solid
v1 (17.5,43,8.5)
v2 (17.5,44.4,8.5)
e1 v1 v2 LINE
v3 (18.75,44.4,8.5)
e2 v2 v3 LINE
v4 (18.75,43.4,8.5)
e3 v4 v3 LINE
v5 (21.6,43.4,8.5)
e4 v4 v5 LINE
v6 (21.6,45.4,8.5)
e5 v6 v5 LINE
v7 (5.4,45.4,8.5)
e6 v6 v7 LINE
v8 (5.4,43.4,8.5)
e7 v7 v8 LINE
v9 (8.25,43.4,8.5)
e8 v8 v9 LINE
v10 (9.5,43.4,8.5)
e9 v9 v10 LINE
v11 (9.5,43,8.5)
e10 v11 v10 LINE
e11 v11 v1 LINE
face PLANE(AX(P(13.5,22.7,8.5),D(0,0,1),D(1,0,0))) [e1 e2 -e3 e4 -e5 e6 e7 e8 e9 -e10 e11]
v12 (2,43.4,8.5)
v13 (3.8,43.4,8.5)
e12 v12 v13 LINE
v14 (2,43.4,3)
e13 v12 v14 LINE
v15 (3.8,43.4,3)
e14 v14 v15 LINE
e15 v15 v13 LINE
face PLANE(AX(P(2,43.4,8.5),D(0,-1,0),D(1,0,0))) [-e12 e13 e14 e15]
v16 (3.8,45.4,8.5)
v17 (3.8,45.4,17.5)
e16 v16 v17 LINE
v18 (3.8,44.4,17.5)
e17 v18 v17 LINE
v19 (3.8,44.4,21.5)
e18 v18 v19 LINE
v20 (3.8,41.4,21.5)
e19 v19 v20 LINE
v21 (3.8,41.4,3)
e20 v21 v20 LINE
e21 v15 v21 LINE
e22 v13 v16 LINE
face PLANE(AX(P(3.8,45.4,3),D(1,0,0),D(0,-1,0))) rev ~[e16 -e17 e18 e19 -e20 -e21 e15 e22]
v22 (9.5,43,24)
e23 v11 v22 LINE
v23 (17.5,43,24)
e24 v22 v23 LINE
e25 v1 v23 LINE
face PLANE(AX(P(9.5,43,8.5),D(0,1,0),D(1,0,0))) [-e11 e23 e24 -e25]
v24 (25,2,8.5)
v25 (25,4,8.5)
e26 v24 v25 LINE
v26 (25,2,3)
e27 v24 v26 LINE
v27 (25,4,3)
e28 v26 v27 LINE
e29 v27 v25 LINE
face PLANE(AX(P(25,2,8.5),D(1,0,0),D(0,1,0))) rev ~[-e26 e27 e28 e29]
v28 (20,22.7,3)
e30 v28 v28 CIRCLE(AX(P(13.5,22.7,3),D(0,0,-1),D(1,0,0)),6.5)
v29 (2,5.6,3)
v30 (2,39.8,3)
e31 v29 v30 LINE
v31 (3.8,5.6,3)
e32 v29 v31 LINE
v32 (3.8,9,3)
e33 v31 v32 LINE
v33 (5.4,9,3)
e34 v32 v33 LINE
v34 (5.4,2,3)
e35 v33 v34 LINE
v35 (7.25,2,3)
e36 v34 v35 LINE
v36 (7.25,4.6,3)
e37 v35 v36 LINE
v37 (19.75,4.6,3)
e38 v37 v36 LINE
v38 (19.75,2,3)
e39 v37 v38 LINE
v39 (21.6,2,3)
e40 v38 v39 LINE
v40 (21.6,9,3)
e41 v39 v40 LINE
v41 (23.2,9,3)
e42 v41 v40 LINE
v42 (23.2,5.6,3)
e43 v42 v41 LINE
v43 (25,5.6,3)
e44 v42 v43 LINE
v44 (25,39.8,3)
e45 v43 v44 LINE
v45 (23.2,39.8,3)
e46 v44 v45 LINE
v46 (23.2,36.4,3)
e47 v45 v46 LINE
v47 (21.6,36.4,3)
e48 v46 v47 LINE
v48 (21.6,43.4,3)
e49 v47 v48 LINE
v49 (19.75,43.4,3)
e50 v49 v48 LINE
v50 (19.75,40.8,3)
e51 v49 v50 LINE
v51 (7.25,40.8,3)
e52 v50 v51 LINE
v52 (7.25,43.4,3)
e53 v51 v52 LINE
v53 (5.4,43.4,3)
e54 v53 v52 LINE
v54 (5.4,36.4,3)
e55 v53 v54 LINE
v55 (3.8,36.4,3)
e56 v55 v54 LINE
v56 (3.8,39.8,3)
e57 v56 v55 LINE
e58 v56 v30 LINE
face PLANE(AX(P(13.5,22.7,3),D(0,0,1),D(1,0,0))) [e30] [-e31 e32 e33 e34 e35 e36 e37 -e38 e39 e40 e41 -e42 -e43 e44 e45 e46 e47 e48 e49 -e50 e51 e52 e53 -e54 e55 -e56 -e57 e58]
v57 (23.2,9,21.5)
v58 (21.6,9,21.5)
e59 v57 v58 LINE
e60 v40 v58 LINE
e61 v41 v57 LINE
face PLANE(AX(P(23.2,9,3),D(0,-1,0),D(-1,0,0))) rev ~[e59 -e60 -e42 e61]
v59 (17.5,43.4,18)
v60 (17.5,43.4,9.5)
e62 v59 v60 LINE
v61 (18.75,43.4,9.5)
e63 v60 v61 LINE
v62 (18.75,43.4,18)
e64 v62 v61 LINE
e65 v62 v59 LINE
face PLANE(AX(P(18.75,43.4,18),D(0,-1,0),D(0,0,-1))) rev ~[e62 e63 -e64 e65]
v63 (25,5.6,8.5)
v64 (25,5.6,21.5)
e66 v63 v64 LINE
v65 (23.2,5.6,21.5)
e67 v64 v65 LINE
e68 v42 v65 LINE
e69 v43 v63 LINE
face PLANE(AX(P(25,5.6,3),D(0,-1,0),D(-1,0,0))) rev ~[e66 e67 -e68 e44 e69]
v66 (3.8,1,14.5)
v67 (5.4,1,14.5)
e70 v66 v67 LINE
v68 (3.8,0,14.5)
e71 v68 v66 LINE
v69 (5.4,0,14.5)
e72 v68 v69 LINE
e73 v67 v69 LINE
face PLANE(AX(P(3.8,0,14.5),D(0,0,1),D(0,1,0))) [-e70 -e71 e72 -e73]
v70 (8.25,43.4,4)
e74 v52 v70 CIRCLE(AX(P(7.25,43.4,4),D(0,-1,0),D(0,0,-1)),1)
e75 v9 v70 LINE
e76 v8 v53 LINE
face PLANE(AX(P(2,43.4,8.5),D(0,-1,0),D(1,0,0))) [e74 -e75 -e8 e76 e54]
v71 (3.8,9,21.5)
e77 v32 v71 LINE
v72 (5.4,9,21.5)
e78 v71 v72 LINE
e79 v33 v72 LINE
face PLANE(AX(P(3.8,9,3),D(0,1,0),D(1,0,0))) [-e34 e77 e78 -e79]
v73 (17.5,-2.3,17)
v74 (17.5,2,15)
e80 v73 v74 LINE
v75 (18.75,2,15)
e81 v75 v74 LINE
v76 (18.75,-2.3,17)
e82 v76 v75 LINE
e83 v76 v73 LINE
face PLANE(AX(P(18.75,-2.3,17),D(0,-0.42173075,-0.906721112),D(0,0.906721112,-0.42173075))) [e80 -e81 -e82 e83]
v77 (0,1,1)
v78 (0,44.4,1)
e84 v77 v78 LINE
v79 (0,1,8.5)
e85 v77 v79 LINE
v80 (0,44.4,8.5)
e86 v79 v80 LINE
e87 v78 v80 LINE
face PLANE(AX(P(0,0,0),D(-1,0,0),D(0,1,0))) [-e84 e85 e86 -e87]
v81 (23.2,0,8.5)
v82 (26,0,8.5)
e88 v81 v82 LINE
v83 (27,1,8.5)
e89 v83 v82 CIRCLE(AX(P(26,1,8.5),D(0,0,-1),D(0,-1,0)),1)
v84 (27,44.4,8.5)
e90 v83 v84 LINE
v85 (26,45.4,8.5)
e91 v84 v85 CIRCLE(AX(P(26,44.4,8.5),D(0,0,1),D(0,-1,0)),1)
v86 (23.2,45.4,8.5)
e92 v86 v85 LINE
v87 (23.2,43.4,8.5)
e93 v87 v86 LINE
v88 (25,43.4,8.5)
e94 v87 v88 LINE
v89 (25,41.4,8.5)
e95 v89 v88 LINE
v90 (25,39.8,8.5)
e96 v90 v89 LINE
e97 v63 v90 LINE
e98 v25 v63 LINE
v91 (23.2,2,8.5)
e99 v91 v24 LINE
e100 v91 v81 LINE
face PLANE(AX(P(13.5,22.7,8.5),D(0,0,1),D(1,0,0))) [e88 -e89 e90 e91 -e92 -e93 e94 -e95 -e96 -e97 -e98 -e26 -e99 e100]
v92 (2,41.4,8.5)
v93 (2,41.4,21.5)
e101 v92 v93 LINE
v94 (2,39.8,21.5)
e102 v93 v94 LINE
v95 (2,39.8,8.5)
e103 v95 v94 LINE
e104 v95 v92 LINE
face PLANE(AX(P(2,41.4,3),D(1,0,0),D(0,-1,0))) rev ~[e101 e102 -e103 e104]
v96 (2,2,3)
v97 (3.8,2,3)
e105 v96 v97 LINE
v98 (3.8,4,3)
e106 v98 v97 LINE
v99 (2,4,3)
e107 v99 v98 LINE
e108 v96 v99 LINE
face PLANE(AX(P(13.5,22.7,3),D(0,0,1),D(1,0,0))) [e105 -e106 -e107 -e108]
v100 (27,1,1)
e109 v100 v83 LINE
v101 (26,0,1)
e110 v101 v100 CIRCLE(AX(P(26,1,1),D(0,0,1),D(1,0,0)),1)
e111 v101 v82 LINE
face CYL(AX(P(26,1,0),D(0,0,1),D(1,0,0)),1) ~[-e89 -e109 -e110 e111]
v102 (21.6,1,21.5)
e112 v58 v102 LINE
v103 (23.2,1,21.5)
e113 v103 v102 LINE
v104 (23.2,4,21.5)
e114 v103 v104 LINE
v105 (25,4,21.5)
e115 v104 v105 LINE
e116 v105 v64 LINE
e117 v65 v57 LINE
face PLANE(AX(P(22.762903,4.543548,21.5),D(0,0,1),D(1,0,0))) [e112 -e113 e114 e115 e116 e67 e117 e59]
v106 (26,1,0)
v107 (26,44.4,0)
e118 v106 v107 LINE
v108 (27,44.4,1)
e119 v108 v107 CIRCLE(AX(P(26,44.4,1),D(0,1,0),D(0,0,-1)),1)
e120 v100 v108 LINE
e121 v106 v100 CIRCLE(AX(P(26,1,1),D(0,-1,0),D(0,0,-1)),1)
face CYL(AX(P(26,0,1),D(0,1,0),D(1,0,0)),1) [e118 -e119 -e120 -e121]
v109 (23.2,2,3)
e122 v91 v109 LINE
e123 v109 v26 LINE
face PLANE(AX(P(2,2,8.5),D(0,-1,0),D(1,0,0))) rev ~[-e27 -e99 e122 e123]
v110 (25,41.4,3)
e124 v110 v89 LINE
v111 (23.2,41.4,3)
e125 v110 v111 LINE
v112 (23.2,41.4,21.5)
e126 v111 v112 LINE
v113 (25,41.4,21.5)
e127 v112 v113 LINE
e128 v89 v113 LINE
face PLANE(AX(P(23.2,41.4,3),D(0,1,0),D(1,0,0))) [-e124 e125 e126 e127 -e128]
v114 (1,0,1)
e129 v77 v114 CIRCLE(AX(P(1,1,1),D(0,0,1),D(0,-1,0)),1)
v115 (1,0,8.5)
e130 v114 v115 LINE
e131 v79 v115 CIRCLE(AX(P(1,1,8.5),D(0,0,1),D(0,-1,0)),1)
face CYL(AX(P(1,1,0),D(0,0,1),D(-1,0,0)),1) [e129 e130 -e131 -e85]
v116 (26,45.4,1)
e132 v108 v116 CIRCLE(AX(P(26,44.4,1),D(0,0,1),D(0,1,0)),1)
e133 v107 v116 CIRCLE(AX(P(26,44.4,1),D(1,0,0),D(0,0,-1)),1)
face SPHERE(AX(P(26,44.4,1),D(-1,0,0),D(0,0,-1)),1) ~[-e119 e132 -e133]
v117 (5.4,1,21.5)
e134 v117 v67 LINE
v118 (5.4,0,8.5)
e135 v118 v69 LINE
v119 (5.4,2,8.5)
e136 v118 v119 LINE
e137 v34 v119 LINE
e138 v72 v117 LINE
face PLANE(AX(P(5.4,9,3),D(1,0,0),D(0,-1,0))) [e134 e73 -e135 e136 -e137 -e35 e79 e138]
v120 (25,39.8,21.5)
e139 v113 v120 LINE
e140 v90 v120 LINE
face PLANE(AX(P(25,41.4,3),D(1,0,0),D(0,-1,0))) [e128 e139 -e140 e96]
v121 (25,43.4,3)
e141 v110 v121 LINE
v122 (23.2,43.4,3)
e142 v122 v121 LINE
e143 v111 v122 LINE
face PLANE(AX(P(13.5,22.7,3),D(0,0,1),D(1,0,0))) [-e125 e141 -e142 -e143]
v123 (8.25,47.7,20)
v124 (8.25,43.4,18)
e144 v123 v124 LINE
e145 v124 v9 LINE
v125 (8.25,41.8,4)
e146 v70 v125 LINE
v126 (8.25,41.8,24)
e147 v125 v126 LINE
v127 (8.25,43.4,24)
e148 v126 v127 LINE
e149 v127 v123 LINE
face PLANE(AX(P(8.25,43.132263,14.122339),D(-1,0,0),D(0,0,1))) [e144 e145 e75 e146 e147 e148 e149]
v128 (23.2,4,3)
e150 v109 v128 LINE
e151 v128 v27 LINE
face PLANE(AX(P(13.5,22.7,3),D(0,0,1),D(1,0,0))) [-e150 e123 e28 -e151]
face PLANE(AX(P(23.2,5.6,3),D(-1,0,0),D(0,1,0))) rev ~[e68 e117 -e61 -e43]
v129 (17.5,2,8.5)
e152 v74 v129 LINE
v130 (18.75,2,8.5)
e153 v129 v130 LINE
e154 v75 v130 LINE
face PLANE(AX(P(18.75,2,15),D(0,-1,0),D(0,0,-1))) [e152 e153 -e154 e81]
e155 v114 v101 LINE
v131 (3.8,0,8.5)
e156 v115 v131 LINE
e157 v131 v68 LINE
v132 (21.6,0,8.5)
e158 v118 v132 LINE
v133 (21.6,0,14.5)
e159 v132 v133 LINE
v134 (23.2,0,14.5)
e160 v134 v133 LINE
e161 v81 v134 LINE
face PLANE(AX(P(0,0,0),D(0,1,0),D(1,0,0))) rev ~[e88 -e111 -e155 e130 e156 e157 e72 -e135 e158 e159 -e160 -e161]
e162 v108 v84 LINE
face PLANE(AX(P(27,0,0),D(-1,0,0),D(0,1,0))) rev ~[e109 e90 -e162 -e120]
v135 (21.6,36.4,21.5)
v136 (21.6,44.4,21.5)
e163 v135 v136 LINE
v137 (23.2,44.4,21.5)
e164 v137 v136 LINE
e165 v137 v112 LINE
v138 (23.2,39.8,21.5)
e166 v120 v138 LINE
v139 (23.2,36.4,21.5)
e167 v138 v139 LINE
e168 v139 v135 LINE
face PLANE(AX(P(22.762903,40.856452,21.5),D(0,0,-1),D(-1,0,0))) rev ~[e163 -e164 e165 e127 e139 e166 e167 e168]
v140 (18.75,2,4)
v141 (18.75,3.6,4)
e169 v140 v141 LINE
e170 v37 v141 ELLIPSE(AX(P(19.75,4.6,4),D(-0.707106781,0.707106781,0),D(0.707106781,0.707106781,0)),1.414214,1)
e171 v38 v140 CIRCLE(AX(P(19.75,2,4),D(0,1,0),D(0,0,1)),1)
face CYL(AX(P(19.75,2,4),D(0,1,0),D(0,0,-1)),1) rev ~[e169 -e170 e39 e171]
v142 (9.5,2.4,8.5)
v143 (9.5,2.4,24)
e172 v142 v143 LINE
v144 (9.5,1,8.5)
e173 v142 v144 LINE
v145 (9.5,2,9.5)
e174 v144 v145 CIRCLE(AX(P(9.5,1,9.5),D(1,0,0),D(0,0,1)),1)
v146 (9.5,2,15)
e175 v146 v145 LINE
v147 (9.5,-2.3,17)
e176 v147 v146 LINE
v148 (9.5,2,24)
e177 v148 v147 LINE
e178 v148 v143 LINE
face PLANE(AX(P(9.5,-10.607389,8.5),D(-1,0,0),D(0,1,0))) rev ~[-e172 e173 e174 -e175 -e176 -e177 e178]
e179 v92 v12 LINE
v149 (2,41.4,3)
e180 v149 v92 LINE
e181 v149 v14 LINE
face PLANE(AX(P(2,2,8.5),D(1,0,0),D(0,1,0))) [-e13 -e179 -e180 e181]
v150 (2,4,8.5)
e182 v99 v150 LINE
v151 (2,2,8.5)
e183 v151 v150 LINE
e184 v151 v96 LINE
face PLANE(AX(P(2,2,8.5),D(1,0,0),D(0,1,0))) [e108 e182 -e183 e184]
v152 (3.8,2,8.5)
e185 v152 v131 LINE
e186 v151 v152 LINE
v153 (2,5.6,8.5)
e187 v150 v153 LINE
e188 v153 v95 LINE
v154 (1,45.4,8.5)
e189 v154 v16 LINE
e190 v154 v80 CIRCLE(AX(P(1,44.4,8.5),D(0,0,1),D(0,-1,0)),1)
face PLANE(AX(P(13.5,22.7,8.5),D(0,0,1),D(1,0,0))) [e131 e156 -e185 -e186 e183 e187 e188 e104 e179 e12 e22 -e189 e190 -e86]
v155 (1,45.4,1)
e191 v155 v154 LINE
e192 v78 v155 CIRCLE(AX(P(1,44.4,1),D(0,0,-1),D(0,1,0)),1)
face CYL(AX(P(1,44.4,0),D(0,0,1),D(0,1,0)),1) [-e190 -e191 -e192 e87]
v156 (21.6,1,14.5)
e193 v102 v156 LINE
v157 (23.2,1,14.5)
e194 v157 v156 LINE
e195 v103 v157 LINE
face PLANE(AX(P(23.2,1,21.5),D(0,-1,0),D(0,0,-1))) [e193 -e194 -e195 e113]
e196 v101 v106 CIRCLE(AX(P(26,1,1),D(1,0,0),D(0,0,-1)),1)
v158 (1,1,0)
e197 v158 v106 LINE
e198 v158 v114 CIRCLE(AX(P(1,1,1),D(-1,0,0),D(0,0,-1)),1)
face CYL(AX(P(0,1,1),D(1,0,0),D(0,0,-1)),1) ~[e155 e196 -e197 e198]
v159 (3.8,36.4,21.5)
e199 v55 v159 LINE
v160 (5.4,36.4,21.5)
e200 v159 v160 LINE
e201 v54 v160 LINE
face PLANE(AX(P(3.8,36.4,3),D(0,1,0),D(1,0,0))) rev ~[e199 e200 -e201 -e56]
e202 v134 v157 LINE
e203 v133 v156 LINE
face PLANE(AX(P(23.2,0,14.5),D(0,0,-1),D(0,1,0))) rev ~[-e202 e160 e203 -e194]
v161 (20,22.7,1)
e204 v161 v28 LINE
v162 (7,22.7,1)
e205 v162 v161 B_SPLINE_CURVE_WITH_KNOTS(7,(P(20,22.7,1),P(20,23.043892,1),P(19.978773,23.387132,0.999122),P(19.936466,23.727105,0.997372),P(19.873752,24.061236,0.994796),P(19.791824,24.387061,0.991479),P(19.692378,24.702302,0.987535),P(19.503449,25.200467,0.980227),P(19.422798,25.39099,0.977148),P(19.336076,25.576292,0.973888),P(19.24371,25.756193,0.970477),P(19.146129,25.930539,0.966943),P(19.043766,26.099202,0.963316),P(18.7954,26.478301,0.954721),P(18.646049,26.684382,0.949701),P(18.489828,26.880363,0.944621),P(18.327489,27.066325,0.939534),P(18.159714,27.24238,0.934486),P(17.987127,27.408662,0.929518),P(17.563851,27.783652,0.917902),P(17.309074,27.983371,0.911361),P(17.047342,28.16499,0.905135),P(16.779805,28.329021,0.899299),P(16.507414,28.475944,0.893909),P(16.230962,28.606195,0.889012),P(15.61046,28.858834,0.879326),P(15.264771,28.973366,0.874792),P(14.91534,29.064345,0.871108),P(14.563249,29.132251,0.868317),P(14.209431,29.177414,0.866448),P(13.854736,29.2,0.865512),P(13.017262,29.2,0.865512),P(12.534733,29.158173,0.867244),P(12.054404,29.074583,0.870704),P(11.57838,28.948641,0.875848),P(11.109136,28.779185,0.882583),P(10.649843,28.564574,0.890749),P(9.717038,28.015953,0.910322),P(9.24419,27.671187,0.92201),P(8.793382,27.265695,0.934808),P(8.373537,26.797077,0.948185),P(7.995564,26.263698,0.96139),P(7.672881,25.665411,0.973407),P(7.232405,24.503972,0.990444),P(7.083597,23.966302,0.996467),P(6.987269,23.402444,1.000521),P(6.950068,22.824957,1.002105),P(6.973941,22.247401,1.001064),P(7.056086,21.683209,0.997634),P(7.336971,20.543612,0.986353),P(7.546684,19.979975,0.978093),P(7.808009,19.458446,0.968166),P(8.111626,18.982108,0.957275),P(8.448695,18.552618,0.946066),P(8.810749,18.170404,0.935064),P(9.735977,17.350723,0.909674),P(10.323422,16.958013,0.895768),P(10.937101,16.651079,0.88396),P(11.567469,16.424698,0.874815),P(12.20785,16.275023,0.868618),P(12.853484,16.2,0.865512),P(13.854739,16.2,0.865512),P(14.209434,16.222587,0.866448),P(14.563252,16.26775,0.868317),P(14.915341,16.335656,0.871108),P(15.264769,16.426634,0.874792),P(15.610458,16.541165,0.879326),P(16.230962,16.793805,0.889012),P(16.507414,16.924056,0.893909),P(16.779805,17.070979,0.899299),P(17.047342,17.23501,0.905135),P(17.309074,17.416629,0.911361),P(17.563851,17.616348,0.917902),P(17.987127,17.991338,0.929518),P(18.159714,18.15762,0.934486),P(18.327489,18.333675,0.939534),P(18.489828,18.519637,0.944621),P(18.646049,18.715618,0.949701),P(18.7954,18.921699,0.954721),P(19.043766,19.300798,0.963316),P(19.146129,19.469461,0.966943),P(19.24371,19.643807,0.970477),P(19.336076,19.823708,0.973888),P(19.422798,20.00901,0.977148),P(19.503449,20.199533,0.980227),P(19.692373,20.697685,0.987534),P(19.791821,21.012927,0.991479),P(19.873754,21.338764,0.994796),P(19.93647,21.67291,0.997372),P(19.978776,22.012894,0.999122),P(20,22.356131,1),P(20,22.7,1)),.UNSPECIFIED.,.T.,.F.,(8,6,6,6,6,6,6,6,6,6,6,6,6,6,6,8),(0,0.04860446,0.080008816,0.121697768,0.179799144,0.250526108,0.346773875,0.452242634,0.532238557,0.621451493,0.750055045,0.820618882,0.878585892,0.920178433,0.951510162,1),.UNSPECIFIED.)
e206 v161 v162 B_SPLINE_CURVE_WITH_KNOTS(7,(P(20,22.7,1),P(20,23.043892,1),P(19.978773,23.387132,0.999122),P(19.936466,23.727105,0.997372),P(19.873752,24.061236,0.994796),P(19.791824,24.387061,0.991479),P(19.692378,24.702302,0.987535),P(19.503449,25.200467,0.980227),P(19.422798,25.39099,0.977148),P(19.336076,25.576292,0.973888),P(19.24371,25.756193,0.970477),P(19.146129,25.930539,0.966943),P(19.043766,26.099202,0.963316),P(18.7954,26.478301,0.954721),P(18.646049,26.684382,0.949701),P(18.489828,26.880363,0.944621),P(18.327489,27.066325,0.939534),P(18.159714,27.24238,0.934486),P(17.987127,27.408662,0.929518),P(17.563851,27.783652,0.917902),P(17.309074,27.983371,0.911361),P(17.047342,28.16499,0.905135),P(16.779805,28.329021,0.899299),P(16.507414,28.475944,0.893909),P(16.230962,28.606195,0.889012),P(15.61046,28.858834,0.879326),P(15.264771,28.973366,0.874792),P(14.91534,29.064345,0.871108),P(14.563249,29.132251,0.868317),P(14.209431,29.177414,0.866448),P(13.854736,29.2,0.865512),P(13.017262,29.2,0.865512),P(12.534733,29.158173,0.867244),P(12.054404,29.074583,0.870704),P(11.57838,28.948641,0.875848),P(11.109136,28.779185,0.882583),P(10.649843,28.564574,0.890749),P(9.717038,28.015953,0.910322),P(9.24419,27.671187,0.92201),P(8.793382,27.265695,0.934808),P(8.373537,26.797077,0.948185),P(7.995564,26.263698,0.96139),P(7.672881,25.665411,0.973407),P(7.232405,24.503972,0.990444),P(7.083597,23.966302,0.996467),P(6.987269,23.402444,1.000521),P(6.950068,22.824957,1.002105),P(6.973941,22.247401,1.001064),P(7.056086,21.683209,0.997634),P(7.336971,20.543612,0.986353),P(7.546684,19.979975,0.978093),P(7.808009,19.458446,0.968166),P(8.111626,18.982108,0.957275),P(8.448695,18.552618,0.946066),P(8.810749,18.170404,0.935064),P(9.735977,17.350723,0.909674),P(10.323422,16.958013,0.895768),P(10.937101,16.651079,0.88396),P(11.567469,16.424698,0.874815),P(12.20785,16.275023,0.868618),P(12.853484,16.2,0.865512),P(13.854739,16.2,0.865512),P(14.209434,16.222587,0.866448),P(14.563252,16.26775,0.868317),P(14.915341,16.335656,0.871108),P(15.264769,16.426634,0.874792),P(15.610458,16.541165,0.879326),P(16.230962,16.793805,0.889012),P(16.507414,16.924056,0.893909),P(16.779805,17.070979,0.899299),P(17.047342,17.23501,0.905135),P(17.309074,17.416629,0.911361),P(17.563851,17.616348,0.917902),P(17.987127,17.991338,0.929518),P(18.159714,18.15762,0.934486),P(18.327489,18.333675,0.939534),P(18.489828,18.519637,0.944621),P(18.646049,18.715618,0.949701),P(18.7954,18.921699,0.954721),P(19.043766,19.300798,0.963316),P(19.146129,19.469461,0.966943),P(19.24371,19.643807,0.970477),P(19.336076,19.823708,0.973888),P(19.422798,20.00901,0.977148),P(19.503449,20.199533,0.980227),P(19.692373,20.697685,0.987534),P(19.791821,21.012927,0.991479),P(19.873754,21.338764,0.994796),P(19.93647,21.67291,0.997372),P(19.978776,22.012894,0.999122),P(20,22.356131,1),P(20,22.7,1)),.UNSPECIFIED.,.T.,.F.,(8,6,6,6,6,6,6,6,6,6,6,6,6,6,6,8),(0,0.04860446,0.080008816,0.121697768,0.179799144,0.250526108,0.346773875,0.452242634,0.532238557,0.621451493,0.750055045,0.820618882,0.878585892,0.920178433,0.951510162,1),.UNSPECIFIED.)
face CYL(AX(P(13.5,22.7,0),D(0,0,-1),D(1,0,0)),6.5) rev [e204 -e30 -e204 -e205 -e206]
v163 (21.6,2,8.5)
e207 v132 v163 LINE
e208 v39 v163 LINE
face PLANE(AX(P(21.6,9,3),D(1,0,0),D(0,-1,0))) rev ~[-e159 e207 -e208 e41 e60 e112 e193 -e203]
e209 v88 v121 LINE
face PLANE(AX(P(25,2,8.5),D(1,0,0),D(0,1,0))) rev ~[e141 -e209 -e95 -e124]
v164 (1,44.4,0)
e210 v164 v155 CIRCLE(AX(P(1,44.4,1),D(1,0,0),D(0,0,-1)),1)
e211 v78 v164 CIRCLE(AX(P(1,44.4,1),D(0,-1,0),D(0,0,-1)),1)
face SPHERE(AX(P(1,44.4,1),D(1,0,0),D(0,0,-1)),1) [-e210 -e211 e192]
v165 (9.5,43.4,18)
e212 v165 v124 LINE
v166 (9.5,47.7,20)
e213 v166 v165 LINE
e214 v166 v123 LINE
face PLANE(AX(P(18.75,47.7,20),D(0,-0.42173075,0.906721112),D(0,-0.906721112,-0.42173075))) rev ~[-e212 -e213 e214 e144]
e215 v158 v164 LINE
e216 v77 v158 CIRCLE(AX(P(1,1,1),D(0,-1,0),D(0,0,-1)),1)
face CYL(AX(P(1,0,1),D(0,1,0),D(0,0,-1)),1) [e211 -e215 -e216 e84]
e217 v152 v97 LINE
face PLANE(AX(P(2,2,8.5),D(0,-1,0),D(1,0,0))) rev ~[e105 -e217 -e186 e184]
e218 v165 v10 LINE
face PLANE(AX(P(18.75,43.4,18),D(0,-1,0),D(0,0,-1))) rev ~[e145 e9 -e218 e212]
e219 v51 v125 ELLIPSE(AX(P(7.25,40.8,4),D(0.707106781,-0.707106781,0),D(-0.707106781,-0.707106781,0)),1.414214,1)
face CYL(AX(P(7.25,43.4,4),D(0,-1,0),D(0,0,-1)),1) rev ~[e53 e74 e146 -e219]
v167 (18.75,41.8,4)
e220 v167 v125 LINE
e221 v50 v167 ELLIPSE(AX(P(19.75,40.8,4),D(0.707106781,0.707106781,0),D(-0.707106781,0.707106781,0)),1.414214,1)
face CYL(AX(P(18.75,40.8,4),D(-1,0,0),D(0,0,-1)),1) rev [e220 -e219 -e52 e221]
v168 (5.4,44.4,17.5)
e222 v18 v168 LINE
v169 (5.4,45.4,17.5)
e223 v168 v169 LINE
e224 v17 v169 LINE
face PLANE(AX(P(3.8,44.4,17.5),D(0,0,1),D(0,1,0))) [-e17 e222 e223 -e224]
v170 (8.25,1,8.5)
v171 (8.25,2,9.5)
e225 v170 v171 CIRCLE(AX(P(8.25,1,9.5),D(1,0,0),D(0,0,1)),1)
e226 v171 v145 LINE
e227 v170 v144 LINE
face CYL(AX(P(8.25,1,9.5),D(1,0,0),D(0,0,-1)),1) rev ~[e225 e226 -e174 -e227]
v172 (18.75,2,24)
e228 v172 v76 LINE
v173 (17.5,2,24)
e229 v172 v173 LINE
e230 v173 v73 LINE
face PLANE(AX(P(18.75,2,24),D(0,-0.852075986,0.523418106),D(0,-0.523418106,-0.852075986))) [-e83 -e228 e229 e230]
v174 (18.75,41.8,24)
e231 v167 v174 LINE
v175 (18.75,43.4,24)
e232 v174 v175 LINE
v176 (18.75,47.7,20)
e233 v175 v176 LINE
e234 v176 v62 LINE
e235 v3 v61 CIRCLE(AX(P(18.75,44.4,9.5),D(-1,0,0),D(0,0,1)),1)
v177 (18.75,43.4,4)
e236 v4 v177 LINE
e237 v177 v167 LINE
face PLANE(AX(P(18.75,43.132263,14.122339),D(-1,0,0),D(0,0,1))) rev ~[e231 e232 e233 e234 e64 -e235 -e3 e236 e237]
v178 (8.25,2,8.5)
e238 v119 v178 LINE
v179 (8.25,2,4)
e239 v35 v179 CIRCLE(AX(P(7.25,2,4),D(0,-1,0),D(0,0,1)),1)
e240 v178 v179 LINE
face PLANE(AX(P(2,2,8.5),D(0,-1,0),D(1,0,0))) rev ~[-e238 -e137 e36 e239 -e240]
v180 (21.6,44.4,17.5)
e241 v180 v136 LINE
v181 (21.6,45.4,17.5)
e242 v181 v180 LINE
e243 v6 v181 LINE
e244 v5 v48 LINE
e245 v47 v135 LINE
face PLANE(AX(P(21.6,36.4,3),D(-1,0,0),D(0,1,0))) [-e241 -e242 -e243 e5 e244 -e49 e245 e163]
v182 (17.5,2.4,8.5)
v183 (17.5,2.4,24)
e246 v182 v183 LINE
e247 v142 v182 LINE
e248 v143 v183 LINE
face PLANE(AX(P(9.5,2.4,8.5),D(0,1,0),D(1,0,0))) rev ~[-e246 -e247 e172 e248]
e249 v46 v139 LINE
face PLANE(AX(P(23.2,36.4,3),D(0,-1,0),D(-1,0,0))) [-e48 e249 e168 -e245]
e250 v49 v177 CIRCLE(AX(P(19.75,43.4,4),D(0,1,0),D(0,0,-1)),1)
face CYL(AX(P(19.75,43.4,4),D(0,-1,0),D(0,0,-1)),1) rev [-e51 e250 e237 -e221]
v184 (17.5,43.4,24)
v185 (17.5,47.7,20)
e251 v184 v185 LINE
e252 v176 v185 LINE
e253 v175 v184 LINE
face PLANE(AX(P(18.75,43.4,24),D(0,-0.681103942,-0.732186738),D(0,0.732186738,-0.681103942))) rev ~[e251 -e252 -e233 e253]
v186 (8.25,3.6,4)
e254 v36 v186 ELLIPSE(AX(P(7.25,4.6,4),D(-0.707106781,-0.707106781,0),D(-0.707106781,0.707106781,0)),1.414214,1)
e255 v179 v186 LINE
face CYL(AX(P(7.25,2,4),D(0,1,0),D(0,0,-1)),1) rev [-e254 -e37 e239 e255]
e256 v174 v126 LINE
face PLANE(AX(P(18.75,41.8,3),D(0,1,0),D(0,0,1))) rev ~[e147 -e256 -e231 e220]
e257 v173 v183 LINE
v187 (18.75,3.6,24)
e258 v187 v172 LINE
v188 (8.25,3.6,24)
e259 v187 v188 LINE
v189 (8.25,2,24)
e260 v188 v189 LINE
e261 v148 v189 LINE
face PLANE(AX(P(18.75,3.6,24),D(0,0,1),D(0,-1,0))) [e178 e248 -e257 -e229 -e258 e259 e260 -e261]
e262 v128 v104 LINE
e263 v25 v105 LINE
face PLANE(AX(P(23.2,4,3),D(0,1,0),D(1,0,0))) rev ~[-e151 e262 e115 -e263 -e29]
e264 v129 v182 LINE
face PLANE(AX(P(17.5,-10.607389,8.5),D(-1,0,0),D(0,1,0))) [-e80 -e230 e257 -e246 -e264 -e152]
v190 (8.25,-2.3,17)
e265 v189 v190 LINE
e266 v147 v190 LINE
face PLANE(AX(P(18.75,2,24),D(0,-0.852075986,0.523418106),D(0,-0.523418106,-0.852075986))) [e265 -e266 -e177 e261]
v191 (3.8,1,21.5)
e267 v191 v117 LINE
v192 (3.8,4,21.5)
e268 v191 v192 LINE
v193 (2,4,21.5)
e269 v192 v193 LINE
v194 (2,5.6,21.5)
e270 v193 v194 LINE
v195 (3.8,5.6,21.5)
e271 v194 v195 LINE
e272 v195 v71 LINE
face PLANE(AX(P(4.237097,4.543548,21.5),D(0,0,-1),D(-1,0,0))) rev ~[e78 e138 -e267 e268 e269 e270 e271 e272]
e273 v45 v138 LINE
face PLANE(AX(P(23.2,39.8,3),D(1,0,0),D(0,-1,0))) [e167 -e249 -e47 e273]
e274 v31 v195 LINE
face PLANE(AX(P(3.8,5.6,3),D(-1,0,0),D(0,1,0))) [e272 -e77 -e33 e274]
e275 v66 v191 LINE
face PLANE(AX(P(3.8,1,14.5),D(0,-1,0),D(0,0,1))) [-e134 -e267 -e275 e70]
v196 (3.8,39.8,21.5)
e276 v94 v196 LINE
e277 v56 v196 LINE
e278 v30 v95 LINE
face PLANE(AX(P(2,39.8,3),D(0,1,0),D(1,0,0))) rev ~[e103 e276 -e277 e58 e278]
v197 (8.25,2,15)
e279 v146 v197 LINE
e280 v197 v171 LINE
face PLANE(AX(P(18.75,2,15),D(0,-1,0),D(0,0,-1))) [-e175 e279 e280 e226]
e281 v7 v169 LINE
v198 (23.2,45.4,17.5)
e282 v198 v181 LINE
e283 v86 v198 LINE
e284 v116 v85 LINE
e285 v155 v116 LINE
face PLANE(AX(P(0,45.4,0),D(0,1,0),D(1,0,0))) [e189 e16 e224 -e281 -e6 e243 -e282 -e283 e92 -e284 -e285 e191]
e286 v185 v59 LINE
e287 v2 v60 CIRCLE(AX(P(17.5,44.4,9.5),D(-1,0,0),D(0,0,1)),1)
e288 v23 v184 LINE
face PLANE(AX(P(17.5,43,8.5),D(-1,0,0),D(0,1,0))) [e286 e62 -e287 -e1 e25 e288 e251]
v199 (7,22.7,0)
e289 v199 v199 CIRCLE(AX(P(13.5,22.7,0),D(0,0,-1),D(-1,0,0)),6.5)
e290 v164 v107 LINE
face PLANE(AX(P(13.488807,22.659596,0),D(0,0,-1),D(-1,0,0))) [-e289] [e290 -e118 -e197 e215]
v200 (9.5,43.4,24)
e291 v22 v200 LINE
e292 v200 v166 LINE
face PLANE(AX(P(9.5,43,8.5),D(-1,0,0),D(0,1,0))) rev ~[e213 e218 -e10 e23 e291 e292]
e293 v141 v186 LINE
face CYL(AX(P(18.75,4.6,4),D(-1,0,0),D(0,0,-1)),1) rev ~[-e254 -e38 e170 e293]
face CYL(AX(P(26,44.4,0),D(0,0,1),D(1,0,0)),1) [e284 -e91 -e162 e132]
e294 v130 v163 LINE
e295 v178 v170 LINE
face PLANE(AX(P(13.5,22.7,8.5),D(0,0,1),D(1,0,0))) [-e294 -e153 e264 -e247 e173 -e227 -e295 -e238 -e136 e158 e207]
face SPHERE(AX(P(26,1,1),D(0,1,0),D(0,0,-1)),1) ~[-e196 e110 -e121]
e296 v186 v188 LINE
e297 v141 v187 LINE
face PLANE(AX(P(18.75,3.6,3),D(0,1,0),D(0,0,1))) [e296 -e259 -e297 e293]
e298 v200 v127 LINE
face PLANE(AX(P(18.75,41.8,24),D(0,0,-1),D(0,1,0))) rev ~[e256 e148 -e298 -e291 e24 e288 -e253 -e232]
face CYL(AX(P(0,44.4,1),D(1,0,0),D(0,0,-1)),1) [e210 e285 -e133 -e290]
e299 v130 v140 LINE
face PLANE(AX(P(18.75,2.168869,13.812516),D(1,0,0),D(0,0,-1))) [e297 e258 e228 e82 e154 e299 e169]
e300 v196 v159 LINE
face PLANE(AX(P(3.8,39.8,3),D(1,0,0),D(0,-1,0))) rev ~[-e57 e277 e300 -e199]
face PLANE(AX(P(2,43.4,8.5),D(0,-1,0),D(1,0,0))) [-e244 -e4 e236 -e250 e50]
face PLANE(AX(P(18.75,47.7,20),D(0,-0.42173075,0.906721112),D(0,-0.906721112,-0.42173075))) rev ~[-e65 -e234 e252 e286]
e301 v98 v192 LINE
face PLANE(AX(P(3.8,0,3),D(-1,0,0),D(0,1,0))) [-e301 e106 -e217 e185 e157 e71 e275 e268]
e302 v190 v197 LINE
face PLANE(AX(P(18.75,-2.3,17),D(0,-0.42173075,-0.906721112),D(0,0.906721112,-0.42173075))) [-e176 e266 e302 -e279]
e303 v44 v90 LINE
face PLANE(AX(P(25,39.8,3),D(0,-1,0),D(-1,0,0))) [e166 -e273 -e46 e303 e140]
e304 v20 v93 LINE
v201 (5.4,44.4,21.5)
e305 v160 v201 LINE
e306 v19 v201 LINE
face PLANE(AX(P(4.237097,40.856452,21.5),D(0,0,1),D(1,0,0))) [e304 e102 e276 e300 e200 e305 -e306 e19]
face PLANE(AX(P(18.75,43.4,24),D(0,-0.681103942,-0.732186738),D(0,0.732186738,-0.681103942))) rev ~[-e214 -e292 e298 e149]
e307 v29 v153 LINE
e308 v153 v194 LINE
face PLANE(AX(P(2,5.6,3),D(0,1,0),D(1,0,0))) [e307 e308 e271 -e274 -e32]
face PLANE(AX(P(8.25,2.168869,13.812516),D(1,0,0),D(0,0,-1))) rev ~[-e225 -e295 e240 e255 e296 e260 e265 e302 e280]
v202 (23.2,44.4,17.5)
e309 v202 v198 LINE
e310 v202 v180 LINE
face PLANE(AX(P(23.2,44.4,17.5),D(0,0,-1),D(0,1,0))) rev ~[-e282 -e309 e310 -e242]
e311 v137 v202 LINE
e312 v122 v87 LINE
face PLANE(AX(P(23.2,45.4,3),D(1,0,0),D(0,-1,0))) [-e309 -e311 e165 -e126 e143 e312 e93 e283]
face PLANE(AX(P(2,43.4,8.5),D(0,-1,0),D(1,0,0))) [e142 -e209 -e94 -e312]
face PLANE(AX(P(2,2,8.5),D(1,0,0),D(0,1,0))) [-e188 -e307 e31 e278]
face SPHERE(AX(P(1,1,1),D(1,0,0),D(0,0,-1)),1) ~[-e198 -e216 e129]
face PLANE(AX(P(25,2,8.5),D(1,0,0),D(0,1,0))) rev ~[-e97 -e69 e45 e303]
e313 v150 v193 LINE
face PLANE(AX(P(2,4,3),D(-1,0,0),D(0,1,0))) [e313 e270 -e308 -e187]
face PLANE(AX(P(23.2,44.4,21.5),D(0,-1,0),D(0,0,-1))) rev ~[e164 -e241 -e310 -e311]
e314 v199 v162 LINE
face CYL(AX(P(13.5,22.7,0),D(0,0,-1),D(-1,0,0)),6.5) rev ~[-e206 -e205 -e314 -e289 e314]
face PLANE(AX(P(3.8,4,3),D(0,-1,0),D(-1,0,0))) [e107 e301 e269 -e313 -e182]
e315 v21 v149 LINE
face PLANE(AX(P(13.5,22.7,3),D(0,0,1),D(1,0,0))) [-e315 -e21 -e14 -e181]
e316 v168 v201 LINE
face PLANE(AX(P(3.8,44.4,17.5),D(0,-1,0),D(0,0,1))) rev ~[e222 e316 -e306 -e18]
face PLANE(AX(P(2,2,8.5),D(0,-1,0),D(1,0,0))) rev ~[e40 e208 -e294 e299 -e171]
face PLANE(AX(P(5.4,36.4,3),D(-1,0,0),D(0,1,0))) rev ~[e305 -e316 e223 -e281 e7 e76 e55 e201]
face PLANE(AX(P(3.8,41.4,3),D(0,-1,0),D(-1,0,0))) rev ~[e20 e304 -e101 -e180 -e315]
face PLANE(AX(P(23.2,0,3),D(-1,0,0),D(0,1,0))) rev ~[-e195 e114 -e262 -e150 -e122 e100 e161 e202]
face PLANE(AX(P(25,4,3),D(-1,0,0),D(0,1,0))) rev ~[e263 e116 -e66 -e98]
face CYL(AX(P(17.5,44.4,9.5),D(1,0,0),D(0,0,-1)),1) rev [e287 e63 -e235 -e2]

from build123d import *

# Parameters (mm, degrees)
SKETCH_1_W           = 27
SKETCH_1_H           = 45.4
SKETCH_1_R           = 6.5
EXTRUDE_1_DEPTH      = 8.5
CUT_EXTRUDE_1_DEPTH  = 21
SKETCH_3_W           = 23
SKETCH_3_H           = 41.4
CUT_EXTRUDE_2_DEPTH  = 5.5
EXTRUDE_2_DEPTH      = 18.5
EXTRUDE_3_DEPTH      = 5.25
EXTRUDE_3_DEPTH_BACK = 5.25
SKETCH_7_W           = 4
SKETCH_7_H           = 1
SKETCH_7_W_2         = 7
CUT_EXTRUDE_3_DEPTH  = 3
SKETCH_8_W           = 7
SKETCH_8_H           = 1
SKETCH_8_W_2         = 4
CUT_EXTRUDE_4_DEPTH  = 3
CUT_EXTRUDE_START    = -15.5
SKETCH_9_W           = 8
SKETCH_9_H           = 13.007388574
CUT_EXTRUDE_5_DEPTH  = 15.5
FILLET_1_R           = 1
FILLET_3_R           = 1
SKETCH_10_W          = 22.881985058
SKETCH_10_H          = 38.494603021
SKETCH_10_R          = 6.5
EXTRUDE_4_DEPTH      = 3


with BuildPart() as part:
    # Эскиз1 → Бобышка-Вытянуть1 (new body)
    with BuildSketch(Plane.XY):
        with Locations((13.5, 22.7)):
            Rectangle(SKETCH_1_W, SKETCH_1_H)
        with Locations((13.5, 22.7)):
            Circle(SKETCH_1_R, mode=Mode.SUBTRACT)
    extrude(amount=EXTRUDE_1_DEPTH)

    # Эскиз2 → Вырез-Вытянуть1 (cut)
    with BuildSketch(Plane(origin=(3, 0, 0), x_dir=(0, 0, -1), z_dir=(1, 0, 0))):
        with BuildLine():
            Line((0, 40.4), (0, 5))
            ThreePointArc((0, 5), (-1, 22.7), (0, 40.4))
        make_face()
    extrude(amount=CUT_EXTRUDE_1_DEPTH, mode=Mode.SUBTRACT)

    # Эскиз3 → Вырез-Вытянуть2 (cut)
    with BuildSketch(Plane.XY.offset(8.5)):
        with Locations((13.5, 22.7)):
            Rectangle(SKETCH_3_W, SKETCH_3_H)
    extrude(amount=-CUT_EXTRUDE_2_DEPTH, mode=Mode.SUBTRACT)

    # Эскиз4 → Бобышка-Вытянуть2 (add)
    with BuildSketch(Plane.XY.offset(3)):
        Polygon((3.8, 45.4), (3.8, 41.4), (2, 41.4), (2, 39.8), (3.8, 39.8), (3.8, 36.4), (5.4, 36.4), (5.4, 45.4), align=None)
        Polygon((21.6, 45.4), (23.2, 45.4), (23.2, 41.4), (25, 41.4), (25, 39.8), (23.2, 39.8), (23.2, 36.4), (21.6, 36.4), align=None)
        Polygon((23.2, 0), (23.2, 4), (25, 4), (25, 5.6), (23.2, 5.6), (23.2, 9), (21.6, 9), (21.6, 0), align=None)
        Polygon((5.4, 0), (3.8, 0), (3.8, 4), (2, 4), (2, 5.6), (3.8, 5.6), (3.8, 9), (5.4, 9), align=None)
    extrude(amount=EXTRUDE_2_DEPTH)

    # Эскиз6 → Бобышка-Вытянуть3 (add, two sides: drawn at the far end of the back side and taken through both)
    with BuildSketch(Plane.ZY.offset(-13.5).offset(-EXTRUDE_3_DEPTH_BACK)):
        Polygon((3, 2), (3, 3.6), (24, 3.6), (24, 2), (17, -2.3), (15, 2), align=None)
        Polygon((18, 43.4), (3, 43.4), (3, 41.8), (24, 41.8), (24, 43.4), (20, 47.7), align=None)
    extrude(amount=EXTRUDE_3_DEPTH + EXTRUDE_3_DEPTH_BACK)

    # Эскиз7 → Вырез-Вытянуть3 (cut)
    with BuildSketch(Plane.ZY.offset(-3.8)):
        with Locations((19.5, 44.9)):
            Rectangle(SKETCH_7_W, SKETCH_7_H)
        with Locations((18, 0.5)):
            Rectangle(SKETCH_7_W_2, SKETCH_7_H)
    extrude(amount=-CUT_EXTRUDE_3_DEPTH, mode=Mode.SUBTRACT)

    # Эскиз8 → Вырез-Вытянуть4 (cut)
    with BuildSketch(Plane(origin=(23.2, 0, 0), x_dir=(0, 0, -1), z_dir=(1, 0, 0))):
        with Locations((-18, 0.5)):
            Rectangle(SKETCH_8_W, SKETCH_8_H)
        with Locations((-19.5, 44.9)):
            Rectangle(SKETCH_8_W_2, SKETCH_8_H)
    extrude(amount=-CUT_EXTRUDE_4_DEPTH, mode=Mode.SUBTRACT)

    # Эскиз9 → Вырез-Вытянуть5 (cut)
    with BuildSketch(Plane.XY.offset(24).offset(CUT_EXTRUDE_START)):
        with Locations((13.5, -4.103694287)):
            Rectangle(SKETCH_9_W, SKETCH_9_H)
        with Locations((13.5, 49.503694287)):
            Rectangle(SKETCH_9_W, SKETCH_9_H)
    extrude(amount=CUT_EXTRUDE_5_DEPTH, mode=Mode.SUBTRACT)

    # Скругление1
    fillet_1_edges = [part.edges().sort_by_distance(p)[0] for p in [
        (13.5, 45.4, 0),
        (27, 22.7, 0),
        (13.5, 0, 0),
        (0, 22.7, 0),
        (0, 45.4, 4.25),
        (27, 45.4, 4.25),
        (27, 0, 4.25),
        (0, 0, 4.25),
    ]]
    fillet(fillet_1_edges, radius=FILLET_1_R)

    # Скругление3
    fillet_3_edges = [part.edges().sort_by_distance(p)[0] for p in [
        (8.875, 2, 8.5),
        (18.75, 2.8, 3),
        (13.5, 3.6, 3),
        (8.25, 2.8, 3),
        (18.125, 43.4, 8.5),
        (13.5, 41.8, 3),
        (18.75, 42.6, 3),
        (8.25, 42.6, 3),
    ]]
    fillet(fillet_3_edges, radius=FILLET_3_R)

    # Эскиз10 → Бобышка-Вытянуть4 (add)
    with BuildSketch(Plane(origin=(0, 0, 0), x_dir=(-1, 0, 0), z_dir=(0, 0, -1))):
        with Locations((-13.488807008, 22.65959588)):
            Rectangle(SKETCH_10_W, SKETCH_10_H)
        with Locations((-13.5, 22.7)):
            Circle(SKETCH_10_R, mode=Mode.SUBTRACT)
    extrude(amount=-EXTRUDE_4_DEPTH)


solid = part.part
